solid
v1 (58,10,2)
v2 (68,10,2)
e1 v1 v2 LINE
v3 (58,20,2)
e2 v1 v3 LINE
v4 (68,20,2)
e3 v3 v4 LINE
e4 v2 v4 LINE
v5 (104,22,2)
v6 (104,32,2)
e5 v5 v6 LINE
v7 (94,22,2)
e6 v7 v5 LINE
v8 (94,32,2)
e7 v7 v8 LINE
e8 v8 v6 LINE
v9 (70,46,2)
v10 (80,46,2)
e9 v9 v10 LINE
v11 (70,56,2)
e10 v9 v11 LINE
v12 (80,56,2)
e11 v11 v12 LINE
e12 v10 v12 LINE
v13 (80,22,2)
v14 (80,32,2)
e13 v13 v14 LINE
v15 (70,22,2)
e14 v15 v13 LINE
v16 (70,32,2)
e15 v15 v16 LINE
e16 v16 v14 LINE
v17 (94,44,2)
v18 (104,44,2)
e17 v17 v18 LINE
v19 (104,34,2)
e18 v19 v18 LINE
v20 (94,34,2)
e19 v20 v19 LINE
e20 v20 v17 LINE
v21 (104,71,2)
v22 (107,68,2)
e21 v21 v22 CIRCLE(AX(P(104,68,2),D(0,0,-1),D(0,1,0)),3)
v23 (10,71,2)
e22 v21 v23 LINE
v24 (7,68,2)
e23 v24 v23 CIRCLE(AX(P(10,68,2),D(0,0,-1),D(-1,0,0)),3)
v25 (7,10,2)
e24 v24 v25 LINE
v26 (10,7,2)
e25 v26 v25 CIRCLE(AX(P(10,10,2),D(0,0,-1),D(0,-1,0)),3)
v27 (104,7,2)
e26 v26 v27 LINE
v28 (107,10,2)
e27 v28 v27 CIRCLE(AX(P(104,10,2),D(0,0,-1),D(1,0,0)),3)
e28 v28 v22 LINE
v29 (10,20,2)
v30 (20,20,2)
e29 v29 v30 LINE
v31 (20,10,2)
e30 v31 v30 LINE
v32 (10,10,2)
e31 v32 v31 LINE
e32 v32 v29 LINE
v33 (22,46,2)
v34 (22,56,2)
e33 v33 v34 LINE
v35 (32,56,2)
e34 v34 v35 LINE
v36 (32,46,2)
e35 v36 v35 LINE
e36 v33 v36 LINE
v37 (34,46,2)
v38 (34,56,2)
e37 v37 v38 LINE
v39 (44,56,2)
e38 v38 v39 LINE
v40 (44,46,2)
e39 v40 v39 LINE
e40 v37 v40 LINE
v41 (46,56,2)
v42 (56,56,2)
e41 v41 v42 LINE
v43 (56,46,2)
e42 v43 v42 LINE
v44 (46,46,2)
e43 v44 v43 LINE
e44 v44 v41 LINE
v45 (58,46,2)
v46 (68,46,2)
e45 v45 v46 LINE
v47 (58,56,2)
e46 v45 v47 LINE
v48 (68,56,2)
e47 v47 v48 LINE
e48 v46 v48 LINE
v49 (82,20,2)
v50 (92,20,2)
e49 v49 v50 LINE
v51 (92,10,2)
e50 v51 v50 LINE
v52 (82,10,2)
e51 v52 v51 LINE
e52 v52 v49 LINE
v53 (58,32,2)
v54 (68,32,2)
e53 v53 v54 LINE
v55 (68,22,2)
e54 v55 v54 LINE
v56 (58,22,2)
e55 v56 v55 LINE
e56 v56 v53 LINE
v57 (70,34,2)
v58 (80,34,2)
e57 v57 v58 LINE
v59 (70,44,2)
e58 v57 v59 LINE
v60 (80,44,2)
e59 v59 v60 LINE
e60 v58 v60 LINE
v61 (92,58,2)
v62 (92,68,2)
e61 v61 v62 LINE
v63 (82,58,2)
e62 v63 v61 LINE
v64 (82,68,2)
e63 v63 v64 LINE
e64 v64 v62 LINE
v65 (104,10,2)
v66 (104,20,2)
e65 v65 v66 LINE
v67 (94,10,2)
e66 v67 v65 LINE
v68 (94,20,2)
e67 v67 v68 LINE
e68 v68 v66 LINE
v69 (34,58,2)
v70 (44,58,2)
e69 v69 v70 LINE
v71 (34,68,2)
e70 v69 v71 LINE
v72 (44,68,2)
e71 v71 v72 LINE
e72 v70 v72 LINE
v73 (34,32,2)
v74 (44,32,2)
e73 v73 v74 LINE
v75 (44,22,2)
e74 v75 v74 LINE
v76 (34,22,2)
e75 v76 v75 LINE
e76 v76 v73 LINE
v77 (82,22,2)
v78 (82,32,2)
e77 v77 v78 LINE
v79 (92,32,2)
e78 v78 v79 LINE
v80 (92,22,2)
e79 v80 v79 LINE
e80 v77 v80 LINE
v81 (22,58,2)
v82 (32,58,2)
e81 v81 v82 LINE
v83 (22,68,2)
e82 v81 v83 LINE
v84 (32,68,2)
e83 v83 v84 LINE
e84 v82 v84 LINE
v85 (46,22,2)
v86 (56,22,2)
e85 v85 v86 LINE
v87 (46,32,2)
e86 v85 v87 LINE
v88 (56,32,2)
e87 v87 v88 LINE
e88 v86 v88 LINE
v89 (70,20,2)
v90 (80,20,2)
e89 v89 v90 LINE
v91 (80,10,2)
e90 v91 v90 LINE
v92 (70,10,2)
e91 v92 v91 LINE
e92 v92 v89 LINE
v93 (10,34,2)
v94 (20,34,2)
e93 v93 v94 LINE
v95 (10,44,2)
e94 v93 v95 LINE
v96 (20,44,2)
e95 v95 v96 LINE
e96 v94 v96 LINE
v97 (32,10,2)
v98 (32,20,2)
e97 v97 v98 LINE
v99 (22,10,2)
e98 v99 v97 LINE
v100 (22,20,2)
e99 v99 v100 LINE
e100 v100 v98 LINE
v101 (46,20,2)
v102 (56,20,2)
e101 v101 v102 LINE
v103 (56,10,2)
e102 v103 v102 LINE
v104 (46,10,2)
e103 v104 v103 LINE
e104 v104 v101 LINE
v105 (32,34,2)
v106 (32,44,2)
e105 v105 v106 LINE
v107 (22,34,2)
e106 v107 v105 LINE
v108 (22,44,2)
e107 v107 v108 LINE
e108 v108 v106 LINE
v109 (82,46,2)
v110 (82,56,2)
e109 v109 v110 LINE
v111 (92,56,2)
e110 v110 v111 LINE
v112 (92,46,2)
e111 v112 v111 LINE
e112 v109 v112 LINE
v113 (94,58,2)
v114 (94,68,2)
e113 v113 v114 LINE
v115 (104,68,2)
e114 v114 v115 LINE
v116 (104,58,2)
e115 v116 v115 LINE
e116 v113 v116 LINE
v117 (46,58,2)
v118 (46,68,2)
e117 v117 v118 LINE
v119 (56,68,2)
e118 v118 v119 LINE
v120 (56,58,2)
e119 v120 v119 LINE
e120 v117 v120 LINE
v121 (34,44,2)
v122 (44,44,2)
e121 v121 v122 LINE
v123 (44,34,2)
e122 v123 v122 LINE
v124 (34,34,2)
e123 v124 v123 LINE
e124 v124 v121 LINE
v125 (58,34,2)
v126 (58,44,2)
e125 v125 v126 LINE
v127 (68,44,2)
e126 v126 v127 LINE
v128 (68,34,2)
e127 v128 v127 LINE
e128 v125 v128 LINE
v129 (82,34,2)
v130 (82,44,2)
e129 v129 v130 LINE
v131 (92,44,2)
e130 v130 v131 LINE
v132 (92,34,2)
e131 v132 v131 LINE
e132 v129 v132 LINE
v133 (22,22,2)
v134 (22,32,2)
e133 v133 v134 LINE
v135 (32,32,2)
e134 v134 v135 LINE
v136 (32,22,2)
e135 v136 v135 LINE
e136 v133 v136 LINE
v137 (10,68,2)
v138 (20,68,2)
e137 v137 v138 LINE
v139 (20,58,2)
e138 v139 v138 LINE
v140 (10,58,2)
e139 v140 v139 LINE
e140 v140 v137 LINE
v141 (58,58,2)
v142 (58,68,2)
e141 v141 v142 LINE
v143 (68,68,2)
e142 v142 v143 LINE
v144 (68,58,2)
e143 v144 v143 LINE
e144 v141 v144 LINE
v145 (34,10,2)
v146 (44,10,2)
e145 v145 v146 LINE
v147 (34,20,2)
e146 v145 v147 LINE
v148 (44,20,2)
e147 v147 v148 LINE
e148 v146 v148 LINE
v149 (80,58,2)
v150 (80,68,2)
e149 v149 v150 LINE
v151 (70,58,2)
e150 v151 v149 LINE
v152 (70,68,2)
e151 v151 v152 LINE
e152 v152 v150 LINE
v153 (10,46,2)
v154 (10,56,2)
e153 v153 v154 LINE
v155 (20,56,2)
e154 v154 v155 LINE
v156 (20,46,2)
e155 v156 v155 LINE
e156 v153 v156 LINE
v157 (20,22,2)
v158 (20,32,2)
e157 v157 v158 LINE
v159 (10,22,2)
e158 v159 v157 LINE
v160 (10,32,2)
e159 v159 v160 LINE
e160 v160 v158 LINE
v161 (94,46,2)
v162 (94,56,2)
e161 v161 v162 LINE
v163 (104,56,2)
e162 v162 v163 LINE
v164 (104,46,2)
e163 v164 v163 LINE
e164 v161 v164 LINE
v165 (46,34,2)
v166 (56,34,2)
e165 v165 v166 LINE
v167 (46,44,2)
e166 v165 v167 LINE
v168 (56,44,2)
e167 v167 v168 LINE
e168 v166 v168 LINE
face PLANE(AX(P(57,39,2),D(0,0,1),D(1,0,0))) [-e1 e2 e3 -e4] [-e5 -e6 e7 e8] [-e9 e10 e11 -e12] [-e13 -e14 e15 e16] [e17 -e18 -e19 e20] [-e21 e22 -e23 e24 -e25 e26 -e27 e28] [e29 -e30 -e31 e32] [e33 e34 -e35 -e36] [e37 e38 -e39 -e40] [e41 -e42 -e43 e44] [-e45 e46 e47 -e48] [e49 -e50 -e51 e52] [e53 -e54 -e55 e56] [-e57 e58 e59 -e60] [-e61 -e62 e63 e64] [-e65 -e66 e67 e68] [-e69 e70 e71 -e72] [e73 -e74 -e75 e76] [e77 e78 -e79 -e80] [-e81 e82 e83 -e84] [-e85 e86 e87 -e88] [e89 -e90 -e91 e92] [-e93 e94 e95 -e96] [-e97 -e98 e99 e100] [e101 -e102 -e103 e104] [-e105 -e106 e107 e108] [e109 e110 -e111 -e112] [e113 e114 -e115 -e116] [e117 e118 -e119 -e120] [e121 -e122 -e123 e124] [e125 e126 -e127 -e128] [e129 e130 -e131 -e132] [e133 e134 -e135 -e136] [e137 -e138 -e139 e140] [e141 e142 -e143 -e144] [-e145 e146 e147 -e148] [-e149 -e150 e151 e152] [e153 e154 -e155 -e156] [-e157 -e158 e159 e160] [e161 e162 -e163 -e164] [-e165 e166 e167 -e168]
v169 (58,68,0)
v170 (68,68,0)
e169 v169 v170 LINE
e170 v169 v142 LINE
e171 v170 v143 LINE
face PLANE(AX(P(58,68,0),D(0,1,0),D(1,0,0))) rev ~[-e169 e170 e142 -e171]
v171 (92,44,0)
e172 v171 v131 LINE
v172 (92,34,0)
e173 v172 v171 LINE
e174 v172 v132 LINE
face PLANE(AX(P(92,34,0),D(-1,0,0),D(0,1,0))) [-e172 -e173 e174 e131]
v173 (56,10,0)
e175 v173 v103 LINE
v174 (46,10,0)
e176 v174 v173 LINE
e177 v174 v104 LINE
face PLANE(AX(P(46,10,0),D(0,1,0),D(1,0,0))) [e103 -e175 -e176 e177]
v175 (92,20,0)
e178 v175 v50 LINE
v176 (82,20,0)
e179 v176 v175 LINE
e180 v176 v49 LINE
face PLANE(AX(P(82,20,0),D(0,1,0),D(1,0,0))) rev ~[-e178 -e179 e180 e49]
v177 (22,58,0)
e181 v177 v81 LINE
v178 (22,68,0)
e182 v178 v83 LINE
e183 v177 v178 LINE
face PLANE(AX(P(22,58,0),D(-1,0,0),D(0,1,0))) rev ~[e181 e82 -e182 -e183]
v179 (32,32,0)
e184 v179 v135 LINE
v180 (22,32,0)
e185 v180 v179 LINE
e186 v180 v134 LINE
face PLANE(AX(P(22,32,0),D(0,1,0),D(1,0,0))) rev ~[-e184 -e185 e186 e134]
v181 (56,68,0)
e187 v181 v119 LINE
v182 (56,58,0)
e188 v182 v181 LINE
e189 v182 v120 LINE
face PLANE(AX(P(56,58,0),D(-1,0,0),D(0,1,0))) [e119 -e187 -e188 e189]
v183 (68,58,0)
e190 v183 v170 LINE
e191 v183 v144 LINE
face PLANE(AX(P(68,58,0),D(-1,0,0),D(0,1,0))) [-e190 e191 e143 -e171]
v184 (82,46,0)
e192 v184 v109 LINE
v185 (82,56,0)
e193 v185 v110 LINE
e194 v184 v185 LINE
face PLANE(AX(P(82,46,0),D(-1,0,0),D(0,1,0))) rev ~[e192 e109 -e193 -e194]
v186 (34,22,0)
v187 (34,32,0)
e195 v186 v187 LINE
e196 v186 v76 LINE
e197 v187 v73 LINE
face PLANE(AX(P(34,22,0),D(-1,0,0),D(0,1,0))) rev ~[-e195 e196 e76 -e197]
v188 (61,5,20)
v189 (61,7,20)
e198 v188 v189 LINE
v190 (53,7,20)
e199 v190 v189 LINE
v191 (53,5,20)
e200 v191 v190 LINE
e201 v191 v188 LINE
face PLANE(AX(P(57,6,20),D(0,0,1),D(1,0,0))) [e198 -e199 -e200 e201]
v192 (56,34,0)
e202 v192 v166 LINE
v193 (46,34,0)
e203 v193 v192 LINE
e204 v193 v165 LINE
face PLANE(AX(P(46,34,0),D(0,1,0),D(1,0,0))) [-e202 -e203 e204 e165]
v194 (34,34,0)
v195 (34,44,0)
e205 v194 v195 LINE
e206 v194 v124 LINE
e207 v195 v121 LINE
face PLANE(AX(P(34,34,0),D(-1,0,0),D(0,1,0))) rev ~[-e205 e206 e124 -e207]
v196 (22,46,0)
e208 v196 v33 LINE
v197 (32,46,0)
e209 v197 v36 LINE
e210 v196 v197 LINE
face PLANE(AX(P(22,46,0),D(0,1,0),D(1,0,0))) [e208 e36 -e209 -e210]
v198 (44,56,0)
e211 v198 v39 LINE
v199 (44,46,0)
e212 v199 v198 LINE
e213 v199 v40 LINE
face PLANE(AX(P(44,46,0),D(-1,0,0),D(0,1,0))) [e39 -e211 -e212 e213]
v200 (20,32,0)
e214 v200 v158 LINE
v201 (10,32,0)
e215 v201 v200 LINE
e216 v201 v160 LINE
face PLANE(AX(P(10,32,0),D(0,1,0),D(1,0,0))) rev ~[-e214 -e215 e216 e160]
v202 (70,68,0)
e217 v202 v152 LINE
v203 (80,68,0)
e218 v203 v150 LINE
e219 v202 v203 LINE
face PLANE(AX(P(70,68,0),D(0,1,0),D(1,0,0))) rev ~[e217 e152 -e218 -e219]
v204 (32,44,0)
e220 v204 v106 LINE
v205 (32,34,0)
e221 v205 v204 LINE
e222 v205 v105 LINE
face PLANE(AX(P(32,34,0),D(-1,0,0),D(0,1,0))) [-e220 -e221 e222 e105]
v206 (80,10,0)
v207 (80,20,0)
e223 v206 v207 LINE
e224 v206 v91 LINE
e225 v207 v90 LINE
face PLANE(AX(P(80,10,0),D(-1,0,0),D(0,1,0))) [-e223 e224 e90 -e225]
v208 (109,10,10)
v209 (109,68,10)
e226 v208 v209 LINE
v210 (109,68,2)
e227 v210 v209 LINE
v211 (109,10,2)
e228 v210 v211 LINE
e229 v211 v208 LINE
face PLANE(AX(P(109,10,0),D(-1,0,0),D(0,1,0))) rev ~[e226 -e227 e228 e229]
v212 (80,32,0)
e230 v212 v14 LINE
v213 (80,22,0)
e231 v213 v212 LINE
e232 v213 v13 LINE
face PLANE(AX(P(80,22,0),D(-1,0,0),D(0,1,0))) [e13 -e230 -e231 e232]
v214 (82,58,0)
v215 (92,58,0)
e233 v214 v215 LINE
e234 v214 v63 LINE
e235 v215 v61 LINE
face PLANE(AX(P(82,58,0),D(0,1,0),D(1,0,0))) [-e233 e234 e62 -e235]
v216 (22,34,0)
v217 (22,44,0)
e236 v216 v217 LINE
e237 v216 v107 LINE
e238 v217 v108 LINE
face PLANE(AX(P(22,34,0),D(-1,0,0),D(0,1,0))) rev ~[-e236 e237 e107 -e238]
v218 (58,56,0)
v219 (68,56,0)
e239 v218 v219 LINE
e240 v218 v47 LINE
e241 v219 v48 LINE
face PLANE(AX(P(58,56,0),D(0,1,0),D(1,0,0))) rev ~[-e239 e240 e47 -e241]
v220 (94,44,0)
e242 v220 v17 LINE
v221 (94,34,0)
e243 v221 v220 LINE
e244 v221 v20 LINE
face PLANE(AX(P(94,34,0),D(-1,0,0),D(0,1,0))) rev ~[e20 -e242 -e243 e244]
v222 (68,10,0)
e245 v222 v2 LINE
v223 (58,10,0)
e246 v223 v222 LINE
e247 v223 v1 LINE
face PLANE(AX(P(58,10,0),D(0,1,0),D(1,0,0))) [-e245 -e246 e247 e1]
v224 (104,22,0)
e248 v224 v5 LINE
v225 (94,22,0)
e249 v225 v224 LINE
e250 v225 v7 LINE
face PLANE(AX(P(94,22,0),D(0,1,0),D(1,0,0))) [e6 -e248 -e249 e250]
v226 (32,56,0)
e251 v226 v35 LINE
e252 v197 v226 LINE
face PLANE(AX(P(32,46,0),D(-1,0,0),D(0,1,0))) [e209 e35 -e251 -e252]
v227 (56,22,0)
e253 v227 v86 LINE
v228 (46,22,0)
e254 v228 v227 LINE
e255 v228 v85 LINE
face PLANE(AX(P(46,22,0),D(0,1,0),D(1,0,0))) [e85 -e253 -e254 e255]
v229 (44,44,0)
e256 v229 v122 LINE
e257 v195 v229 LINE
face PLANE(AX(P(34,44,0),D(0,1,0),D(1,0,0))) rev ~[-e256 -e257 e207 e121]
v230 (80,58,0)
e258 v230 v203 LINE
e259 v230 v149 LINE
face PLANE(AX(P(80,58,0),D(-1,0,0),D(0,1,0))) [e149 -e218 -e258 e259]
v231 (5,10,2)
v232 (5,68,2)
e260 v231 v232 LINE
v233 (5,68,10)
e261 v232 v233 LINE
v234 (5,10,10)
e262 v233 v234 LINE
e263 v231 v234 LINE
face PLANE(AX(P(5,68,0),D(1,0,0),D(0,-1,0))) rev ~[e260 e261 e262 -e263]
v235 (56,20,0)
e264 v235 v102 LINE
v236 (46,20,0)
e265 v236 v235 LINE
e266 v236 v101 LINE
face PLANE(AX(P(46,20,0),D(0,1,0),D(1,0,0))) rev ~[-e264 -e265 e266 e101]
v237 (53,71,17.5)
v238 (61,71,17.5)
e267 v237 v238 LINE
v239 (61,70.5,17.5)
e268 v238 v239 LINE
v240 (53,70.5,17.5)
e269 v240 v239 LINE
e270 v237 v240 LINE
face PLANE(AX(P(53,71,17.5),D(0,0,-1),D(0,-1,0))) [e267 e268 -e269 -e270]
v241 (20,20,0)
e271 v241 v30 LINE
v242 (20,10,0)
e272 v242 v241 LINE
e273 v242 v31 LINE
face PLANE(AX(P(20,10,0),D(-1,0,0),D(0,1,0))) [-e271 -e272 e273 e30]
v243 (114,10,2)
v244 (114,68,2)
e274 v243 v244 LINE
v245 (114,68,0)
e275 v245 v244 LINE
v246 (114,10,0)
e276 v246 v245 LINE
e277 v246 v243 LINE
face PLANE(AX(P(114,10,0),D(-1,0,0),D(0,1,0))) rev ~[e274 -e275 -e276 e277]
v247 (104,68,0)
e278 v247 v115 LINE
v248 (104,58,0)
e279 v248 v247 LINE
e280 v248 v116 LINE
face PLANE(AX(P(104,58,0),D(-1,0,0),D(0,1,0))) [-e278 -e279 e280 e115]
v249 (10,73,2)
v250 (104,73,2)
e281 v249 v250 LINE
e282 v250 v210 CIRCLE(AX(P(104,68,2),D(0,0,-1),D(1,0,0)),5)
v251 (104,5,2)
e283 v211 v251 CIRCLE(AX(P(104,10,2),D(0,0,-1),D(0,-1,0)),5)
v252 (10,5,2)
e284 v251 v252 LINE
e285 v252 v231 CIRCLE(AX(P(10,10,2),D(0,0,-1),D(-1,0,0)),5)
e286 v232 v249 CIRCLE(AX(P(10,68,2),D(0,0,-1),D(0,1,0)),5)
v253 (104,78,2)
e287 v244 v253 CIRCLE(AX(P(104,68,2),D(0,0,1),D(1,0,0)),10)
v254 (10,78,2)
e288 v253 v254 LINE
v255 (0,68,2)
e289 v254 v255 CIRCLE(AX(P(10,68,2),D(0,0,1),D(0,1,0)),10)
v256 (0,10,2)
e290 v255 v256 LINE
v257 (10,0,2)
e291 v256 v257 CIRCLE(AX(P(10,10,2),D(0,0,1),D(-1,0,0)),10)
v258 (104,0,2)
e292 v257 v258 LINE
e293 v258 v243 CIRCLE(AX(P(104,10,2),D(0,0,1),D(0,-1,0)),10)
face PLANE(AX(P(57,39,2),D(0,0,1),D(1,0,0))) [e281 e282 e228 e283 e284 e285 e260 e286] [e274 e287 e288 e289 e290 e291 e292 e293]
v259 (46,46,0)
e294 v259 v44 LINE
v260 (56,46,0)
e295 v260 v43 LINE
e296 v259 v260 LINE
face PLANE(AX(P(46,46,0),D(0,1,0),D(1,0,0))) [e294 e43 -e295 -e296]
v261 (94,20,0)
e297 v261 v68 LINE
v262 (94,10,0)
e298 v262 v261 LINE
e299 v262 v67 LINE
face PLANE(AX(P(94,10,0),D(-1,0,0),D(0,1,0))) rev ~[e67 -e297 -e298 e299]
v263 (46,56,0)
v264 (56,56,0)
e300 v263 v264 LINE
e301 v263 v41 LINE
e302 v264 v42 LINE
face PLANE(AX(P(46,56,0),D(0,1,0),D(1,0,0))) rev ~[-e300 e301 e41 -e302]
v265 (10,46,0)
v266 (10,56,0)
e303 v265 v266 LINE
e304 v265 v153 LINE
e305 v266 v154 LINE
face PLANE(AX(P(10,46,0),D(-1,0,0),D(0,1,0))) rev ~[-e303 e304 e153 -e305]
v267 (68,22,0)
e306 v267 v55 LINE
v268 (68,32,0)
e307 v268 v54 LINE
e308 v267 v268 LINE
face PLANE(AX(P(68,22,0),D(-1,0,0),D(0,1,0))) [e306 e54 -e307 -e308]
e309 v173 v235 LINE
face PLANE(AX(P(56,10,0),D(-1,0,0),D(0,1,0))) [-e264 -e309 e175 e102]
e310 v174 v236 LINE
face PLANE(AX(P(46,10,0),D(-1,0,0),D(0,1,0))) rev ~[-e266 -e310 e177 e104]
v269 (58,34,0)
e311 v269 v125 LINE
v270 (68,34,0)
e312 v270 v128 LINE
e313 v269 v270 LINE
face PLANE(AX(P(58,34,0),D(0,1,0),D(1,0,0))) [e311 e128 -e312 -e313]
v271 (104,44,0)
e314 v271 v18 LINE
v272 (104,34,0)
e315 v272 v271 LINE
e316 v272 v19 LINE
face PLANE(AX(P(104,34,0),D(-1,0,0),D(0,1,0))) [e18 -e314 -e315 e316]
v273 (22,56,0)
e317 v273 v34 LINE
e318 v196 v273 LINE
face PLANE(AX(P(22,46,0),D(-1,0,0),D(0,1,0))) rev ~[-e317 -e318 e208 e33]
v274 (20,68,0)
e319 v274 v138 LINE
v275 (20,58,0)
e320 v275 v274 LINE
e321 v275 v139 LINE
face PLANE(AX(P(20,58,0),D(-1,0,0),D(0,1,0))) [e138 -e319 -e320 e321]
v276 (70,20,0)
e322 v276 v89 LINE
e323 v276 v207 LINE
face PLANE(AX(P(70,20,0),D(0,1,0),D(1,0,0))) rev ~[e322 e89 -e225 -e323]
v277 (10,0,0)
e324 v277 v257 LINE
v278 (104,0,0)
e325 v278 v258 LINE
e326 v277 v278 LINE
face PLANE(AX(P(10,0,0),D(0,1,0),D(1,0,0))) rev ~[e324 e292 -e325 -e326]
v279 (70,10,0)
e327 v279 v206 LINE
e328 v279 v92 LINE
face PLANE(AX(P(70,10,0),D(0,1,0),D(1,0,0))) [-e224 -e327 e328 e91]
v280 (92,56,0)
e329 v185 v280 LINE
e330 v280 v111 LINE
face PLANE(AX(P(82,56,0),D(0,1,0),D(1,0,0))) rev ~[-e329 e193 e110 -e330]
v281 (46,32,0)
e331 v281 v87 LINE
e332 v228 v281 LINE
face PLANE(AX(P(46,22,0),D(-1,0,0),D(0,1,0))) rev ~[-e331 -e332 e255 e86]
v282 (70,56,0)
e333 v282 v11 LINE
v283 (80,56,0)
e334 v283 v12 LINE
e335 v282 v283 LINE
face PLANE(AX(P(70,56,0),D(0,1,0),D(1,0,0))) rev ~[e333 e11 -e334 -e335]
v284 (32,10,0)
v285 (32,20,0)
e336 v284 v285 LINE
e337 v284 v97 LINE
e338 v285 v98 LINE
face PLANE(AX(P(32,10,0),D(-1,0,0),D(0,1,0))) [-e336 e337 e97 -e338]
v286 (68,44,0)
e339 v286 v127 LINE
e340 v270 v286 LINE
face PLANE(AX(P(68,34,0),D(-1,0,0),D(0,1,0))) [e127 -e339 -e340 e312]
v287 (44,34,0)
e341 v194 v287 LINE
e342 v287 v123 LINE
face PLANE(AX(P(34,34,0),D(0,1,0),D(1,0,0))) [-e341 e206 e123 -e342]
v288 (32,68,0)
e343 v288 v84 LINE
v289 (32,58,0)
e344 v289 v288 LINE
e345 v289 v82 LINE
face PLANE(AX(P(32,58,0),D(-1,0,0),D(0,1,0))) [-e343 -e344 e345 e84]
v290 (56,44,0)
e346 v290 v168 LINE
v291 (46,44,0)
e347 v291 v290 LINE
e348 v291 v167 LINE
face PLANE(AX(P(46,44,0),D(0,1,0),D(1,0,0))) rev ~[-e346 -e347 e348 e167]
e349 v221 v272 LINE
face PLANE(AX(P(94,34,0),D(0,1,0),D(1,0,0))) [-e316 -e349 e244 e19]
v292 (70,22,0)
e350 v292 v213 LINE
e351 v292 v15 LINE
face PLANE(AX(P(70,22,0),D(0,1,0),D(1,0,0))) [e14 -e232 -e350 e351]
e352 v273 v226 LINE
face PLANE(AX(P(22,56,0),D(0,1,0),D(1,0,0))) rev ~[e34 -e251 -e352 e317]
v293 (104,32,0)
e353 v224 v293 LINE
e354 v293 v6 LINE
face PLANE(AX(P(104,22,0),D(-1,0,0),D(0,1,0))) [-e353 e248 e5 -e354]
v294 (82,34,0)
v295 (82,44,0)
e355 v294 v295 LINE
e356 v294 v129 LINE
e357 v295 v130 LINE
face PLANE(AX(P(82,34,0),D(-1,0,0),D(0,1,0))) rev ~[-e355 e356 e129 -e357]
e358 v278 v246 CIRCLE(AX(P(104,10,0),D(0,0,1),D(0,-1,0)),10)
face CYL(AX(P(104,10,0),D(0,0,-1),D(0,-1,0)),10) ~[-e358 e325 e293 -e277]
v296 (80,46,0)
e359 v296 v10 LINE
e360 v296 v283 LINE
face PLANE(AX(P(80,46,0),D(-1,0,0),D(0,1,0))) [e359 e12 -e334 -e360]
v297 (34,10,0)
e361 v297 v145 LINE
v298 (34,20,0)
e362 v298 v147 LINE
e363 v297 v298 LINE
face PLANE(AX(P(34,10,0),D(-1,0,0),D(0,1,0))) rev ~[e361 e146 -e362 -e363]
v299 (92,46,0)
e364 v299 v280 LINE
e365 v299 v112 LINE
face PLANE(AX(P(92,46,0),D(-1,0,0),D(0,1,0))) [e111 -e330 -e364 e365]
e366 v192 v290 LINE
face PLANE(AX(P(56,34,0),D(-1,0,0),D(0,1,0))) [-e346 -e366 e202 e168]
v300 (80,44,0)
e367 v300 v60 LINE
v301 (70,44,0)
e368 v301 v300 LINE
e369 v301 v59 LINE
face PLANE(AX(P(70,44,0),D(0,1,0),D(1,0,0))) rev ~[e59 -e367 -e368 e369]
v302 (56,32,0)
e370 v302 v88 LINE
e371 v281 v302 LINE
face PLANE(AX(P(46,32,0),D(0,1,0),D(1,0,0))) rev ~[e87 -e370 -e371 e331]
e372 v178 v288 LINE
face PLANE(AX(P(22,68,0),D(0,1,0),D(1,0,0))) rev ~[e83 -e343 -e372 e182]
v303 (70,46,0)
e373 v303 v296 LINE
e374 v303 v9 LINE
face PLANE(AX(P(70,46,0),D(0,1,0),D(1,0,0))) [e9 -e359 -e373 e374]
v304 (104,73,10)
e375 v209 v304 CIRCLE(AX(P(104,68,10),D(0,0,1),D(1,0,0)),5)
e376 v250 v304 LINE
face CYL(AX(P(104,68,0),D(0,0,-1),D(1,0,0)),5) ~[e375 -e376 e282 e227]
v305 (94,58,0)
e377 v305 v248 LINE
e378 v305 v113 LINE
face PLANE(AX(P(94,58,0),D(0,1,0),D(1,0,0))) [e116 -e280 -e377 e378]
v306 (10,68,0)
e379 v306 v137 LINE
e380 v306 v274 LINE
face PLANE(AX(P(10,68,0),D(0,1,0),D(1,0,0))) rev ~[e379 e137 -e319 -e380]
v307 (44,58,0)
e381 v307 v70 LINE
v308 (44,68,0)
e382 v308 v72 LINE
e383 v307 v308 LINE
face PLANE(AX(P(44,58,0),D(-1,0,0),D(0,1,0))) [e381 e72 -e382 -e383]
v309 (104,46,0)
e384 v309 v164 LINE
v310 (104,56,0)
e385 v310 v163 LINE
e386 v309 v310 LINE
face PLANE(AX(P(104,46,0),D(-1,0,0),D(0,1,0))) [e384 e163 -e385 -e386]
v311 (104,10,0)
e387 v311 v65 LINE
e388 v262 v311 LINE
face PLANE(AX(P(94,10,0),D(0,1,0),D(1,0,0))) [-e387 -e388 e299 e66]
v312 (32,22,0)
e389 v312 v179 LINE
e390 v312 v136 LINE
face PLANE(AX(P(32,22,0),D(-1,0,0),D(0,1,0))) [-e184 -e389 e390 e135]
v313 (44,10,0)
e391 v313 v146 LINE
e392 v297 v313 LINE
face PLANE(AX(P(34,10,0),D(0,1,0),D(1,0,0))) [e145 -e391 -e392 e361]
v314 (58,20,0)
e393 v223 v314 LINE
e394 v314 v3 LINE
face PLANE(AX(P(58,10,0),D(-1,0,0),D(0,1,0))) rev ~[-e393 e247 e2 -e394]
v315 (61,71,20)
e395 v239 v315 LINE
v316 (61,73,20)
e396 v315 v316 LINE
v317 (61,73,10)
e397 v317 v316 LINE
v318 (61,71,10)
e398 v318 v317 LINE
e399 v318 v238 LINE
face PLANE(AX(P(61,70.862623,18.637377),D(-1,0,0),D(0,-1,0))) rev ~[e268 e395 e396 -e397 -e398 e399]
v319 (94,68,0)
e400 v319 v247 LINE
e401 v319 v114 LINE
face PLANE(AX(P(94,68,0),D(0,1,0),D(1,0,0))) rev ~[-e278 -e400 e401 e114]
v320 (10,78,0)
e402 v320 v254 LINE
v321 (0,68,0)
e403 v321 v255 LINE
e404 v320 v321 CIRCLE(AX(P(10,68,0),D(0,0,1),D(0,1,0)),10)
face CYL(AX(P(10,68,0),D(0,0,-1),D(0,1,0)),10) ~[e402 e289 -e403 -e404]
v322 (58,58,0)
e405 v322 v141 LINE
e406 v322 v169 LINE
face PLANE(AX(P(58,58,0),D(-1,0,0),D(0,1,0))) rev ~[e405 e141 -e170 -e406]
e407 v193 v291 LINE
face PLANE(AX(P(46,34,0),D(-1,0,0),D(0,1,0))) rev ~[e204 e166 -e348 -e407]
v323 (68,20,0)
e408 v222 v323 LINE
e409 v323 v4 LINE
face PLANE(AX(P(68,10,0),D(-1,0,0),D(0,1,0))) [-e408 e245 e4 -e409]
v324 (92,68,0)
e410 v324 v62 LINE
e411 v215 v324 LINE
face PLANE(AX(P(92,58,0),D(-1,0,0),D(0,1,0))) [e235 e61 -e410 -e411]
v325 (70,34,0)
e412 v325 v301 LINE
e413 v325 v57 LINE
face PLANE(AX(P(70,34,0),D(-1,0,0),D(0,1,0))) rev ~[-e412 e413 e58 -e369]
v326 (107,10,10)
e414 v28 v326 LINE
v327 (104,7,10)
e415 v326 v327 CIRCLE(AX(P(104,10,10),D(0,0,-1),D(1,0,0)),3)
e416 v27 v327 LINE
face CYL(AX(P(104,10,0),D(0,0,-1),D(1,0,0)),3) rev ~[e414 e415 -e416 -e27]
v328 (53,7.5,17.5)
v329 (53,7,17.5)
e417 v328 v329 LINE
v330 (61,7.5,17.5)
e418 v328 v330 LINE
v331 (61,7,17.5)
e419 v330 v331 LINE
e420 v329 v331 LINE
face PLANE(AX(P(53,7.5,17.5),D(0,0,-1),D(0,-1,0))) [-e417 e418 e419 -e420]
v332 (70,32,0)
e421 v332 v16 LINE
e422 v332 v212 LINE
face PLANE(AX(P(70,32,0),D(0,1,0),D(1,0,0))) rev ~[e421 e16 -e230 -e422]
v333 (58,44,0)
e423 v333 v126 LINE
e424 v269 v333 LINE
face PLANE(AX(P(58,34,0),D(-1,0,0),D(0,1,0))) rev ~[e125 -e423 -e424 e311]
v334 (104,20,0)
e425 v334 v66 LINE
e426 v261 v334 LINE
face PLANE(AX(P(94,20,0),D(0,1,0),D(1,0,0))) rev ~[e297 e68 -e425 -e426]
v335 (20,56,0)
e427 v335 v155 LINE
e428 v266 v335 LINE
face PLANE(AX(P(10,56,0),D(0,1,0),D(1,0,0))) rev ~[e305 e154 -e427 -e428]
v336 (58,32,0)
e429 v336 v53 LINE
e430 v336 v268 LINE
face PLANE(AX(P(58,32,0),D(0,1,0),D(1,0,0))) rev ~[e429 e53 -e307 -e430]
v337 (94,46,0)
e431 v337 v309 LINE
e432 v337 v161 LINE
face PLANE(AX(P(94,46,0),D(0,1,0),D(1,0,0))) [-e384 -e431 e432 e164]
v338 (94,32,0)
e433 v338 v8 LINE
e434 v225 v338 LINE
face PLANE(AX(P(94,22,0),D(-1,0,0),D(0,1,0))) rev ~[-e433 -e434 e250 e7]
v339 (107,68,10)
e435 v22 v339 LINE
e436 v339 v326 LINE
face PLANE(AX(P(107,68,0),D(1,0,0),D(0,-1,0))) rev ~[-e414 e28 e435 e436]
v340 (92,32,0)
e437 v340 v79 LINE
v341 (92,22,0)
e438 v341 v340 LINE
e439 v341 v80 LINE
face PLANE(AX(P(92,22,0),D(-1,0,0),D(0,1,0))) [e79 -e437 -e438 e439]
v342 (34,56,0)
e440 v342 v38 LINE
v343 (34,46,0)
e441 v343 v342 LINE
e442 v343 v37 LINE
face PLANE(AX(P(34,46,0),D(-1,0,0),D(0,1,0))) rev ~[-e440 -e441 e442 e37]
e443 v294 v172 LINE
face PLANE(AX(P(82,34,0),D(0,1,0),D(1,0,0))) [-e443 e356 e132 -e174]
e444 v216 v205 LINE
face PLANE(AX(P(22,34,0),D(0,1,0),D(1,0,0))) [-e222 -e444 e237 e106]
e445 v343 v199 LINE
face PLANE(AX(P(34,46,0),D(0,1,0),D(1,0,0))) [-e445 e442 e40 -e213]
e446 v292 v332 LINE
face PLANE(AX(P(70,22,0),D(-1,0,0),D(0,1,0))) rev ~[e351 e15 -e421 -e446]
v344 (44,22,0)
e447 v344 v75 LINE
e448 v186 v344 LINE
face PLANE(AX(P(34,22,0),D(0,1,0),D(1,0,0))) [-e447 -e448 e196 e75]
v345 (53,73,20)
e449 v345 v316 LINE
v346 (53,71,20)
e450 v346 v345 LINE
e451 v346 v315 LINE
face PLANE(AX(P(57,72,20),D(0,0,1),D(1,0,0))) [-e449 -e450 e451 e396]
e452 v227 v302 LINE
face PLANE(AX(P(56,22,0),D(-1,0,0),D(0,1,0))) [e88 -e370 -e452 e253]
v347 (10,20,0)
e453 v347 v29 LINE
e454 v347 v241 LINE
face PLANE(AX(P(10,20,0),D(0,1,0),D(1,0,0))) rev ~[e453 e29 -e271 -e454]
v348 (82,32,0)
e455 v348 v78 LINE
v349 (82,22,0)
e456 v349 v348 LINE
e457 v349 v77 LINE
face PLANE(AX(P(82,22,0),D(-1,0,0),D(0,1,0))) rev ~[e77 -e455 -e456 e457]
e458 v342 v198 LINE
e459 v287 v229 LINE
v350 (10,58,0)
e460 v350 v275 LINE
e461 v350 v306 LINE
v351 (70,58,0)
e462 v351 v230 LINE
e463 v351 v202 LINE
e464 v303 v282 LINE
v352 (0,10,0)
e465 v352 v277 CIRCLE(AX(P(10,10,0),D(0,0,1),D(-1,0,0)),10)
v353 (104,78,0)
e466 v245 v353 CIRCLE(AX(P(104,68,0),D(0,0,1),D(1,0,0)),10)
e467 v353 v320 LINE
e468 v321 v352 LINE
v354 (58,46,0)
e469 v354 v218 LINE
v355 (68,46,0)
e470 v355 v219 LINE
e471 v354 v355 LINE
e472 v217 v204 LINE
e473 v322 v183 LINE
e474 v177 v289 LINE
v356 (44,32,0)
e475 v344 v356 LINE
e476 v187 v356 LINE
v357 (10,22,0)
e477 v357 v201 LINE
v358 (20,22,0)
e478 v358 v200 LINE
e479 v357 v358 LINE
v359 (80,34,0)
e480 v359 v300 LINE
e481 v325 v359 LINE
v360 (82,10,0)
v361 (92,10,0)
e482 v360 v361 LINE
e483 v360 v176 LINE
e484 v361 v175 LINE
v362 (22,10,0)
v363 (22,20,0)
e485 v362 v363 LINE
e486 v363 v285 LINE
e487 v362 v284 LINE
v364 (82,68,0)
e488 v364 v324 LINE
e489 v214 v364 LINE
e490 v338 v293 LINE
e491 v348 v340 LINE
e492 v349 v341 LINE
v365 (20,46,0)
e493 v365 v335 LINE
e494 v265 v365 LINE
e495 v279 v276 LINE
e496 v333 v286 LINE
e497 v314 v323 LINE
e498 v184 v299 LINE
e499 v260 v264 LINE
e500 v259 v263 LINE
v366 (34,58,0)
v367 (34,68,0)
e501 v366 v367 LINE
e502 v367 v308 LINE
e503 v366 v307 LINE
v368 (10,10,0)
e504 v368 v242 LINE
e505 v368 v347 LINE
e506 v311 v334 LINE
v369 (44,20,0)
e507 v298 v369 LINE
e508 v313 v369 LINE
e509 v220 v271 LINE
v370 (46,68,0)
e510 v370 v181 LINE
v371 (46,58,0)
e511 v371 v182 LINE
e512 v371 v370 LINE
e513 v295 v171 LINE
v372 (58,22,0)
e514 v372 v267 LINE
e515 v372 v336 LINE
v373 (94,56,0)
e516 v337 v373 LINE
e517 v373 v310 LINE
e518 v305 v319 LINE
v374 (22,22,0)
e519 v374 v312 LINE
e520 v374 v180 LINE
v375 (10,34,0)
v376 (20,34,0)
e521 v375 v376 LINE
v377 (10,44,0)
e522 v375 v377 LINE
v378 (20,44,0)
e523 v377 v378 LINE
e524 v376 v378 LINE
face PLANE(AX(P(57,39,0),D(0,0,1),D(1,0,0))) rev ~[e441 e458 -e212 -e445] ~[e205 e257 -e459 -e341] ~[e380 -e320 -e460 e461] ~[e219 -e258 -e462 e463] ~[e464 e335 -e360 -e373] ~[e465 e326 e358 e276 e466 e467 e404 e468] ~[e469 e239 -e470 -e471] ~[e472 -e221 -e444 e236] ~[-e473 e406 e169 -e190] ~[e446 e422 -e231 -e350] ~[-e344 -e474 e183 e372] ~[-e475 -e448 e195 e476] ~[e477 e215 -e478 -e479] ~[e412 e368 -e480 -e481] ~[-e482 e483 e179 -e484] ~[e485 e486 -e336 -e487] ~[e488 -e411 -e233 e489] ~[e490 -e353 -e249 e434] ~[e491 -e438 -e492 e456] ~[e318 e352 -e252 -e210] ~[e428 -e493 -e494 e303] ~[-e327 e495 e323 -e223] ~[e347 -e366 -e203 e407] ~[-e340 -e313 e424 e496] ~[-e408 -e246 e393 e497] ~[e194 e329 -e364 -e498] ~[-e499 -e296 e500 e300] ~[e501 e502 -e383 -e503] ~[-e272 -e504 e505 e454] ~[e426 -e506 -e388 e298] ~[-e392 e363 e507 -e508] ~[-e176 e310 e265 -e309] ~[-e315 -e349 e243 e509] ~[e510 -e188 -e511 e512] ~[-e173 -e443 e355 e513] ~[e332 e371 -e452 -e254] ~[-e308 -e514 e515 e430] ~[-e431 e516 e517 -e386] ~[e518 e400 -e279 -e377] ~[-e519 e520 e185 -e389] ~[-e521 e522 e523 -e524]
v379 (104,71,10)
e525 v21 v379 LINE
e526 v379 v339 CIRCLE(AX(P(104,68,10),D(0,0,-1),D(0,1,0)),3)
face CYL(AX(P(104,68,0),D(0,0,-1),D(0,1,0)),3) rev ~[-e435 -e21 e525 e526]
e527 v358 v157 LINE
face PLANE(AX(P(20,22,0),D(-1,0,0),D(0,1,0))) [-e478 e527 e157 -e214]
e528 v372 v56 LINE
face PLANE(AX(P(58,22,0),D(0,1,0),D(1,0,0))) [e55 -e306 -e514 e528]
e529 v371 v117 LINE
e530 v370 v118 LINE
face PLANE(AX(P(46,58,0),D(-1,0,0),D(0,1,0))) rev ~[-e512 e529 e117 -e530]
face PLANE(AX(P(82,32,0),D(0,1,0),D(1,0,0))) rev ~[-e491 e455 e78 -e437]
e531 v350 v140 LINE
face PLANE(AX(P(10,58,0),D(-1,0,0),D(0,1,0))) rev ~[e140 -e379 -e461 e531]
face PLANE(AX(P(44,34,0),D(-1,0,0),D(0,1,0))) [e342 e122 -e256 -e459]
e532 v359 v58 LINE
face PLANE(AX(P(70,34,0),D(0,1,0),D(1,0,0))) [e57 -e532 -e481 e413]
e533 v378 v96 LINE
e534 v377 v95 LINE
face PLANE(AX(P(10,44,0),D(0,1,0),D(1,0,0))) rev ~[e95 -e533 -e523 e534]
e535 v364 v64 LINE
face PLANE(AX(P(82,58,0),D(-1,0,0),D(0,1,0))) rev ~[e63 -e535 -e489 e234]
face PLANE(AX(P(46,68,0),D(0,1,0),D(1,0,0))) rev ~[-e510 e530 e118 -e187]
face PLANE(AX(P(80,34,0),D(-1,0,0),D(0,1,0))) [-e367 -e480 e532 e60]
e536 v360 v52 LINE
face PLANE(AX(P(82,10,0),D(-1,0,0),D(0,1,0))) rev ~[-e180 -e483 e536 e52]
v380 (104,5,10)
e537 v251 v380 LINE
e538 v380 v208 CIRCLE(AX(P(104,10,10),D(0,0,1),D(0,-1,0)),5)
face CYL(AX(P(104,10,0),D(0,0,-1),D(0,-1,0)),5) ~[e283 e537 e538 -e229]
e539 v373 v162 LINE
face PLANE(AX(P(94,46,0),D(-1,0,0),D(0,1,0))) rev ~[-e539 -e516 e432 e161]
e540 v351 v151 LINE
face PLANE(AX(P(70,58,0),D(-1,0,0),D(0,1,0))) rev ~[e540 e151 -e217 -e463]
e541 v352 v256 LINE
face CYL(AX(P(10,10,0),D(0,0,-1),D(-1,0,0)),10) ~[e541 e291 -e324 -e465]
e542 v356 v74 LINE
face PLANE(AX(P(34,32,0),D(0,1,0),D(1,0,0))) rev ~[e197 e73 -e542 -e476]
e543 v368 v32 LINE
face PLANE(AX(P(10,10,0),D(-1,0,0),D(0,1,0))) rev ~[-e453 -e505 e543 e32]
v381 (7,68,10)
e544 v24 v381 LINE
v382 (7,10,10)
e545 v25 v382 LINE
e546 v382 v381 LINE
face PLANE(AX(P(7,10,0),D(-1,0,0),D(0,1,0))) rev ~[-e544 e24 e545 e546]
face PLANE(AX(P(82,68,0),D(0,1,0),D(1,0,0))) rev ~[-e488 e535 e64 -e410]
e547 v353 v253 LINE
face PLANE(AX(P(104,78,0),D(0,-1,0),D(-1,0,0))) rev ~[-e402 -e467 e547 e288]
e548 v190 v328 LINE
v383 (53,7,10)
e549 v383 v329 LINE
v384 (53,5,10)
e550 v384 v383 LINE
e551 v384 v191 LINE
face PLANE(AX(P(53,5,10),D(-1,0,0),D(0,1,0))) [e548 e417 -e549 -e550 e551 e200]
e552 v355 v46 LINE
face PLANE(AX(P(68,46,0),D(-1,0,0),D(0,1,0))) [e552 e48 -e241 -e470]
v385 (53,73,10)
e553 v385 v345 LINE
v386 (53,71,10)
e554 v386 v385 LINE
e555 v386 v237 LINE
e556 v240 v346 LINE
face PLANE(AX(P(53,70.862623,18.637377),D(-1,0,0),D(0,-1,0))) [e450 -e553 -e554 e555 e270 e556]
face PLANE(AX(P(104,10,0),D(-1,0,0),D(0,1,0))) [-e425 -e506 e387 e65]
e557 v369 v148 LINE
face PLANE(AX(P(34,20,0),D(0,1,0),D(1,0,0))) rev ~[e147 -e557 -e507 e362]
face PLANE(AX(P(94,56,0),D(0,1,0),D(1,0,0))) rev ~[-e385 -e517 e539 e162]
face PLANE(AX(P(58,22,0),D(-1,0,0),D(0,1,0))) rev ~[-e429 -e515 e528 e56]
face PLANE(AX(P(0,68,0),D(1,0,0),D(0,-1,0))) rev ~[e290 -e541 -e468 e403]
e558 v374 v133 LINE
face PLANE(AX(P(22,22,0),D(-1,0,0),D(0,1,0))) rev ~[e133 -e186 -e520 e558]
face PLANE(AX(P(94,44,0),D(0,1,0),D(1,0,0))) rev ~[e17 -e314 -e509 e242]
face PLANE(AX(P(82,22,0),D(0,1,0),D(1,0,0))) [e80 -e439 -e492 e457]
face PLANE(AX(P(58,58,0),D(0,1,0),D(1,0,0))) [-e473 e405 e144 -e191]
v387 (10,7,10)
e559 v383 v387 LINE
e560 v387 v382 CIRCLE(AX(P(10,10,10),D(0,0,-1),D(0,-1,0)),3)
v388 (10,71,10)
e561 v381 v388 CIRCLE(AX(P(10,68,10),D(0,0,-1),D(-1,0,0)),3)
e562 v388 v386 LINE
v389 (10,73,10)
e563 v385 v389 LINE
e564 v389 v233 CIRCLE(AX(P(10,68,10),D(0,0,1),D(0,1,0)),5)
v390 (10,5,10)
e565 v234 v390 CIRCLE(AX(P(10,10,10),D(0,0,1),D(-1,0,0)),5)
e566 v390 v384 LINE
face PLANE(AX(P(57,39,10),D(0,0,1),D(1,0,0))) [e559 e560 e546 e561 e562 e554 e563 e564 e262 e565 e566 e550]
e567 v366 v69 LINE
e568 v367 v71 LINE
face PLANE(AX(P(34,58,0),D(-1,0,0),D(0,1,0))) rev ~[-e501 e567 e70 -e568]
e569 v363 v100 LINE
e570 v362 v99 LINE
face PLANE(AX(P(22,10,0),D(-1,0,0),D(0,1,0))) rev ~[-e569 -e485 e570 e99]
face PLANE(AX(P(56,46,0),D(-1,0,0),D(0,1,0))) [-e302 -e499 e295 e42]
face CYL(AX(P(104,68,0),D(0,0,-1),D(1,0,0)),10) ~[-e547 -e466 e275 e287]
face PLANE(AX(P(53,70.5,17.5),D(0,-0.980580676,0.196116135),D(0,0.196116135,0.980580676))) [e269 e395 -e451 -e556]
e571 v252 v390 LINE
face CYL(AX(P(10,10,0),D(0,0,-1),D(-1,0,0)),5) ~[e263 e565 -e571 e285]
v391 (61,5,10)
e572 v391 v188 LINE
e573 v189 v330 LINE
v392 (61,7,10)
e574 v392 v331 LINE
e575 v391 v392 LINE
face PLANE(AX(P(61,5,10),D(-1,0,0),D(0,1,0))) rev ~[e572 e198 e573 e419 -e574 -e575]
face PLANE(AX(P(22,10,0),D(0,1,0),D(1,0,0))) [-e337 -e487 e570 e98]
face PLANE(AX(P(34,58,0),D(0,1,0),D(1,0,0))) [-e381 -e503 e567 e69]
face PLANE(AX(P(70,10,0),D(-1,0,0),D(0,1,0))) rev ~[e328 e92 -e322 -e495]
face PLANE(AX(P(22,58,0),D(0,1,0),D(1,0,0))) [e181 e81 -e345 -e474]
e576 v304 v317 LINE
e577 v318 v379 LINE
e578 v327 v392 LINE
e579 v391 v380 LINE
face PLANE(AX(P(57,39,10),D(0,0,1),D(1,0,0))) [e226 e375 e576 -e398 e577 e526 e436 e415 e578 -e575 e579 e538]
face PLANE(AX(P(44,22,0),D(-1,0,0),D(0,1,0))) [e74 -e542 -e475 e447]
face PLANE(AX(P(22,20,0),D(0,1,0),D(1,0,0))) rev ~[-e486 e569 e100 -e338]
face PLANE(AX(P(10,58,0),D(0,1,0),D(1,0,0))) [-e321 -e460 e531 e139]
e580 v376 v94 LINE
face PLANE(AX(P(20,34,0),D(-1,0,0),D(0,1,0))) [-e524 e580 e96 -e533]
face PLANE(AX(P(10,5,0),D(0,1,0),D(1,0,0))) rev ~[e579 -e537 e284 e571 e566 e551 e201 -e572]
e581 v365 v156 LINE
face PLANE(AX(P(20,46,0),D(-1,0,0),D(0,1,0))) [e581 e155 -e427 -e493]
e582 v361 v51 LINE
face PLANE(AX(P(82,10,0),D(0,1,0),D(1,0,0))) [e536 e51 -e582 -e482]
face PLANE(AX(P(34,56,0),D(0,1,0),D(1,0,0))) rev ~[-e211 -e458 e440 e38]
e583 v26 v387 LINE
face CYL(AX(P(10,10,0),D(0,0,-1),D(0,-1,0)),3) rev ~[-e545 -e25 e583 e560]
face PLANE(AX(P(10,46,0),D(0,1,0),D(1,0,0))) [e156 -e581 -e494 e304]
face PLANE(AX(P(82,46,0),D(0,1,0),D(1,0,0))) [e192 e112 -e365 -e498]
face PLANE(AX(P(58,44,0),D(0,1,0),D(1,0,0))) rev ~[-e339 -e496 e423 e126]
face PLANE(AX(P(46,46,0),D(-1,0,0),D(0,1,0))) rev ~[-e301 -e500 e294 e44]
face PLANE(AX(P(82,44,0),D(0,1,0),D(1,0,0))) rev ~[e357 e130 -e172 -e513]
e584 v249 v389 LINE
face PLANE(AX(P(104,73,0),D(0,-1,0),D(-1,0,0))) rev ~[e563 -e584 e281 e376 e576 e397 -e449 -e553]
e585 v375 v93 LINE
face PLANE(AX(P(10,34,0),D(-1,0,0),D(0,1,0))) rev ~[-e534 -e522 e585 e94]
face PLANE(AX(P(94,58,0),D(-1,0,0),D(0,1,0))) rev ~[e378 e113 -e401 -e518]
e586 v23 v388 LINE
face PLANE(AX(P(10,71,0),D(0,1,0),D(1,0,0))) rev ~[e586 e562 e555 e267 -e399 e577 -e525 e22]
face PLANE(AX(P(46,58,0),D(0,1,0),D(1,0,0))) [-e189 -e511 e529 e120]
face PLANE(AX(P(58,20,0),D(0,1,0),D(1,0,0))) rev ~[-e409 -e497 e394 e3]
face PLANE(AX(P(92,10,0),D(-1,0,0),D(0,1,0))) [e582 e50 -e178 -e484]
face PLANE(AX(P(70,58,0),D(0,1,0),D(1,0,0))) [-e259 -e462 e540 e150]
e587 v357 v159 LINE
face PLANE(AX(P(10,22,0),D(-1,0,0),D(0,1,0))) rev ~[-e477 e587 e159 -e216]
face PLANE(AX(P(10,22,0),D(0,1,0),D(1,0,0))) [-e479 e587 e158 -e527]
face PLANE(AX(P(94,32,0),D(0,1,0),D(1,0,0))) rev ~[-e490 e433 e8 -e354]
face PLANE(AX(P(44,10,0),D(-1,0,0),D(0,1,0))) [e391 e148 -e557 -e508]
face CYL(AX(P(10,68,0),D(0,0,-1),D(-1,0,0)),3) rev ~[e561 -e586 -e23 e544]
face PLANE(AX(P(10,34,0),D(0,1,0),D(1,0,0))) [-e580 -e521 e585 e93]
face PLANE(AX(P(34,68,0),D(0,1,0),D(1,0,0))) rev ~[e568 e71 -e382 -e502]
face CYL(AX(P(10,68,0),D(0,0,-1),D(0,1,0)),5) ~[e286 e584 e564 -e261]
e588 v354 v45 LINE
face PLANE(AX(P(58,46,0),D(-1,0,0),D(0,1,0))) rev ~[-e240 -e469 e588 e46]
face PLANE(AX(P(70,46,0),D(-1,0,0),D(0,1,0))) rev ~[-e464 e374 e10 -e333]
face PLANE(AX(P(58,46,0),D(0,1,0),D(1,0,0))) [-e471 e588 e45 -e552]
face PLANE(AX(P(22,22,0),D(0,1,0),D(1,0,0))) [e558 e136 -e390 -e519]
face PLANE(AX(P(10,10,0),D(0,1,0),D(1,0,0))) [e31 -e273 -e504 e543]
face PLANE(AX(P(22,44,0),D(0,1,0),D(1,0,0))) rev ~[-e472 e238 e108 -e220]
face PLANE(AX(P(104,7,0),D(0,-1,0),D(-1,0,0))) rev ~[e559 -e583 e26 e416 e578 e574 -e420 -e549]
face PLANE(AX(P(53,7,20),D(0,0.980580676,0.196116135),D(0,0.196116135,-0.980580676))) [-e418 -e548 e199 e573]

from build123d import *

# Parameters (mm, degrees)
F0_W     = 10
F0_H     = 10
F1_DEPTH = 2
F2_DEPTH = 10
F3_W     = 8
F3_H     = 2
F4_DEPTH = 10
F6_DEPTH = 8


with BuildPart() as f1:
    # F0 (on Top) → F1 (new body)
    with BuildSketch(Plane.XY):
        with BuildLine():
            ThreePointArc((0, 10), (2.9289321881, 2.9289321881), (10, 0))
            Line((10, 0), (104, 0))
            ThreePointArc((104, 0), (111.0710678119, 2.9289321881), (114, 10))
            Line((114, 10), (114, 68))
            ThreePointArc((114, 68), (111.0710678119, 75.0710678119), (104, 78))
            Line((104, 78), (10, 78))
            ThreePointArc((10, 78), (2.9289321881, 75.0710678119), (0, 68))
            Line((0, 68), (0, 10))
        make_face()
        with BuildLine():
            ThreePointArc((10, 5), (6.4644660941, 6.4644660941), (5, 10))
            Line((5, 10), (5, 68))
            ThreePointArc((5, 68), (6.4644660941, 71.5355339059), (10, 73))
            Line((10, 73), (104, 73))
            ThreePointArc((104, 73), (107.5355339059, 71.5355339059), (109, 68))
            Line((109, 68), (109, 10))
            ThreePointArc((109, 10), (107.5355339059, 6.4644660941), (104, 5))
            Line((104, 5), (10, 5))
        make_face(mode=Mode.SUBTRACT)
        with BuildLine():
            Line((5, 68), (5, 10))
            ThreePointArc((5, 10), (6.4644660941, 6.4644660941), (10, 5))
            Line((10, 5), (104, 5))
            ThreePointArc((104, 5), (107.5355339059, 6.4644660941), (109, 10))
            Line((109, 10), (109, 68))
            ThreePointArc((109, 68), (107.5355339059, 71.5355339059), (104, 73))
            Line((104, 73), (10, 73))
            ThreePointArc((10, 73), (6.4644660941, 71.5355339059), (5, 68))
        make_face()
        with BuildLine():
            ThreePointArc((10, 7), (7.8786796564, 7.8786796564), (7, 10))
            Line((7, 10), (7, 68))
            ThreePointArc((7, 68), (7.8786796564, 70.1213203436), (10, 71))
            Line((10, 71), (104, 71))
            ThreePointArc((104, 71), (106.1213203436, 70.1213203436), (107, 68))
            Line((107, 68), (107, 10))
            ThreePointArc((107, 10), (106.1213203436, 7.8786796564), (104, 7))
            Line((104, 7), (10, 7))
        make_face(mode=Mode.SUBTRACT)
        with BuildLine():
            Line((7, 68), (7, 10))
            ThreePointArc((7, 10), (7.8786796564, 7.8786796564), (10, 7))
            Line((10, 7), (104, 7))
            ThreePointArc((104, 7), (106.1213203436, 7.8786796564), (107, 10))
            Line((107, 10), (107, 68))
            ThreePointArc((107, 68), (106.1213203436, 70.1213203436), (104, 71))
            Line((104, 71), (10, 71))
            ThreePointArc((10, 71), (7.8786796564, 70.1213203436), (7, 68))
        make_face()
        with Locations((15, 15)):
            Rectangle(F0_W, F0_H, mode=Mode.SUBTRACT)
        with Locations((27, 15)):
            Rectangle(F0_W, F0_H, mode=Mode.SUBTRACT)
        with Locations((39, 15)):
            Rectangle(F0_W, F0_H, mode=Mode.SUBTRACT)
        with Locations((51, 15)):
            Rectangle(F0_W, F0_H, mode=Mode.SUBTRACT)
        with Locations((15, 27)):
            Rectangle(F0_W, F0_H, mode=Mode.SUBTRACT)
        with Locations((27, 27)):
            Rectangle(F0_W, F0_H, mode=Mode.SUBTRACT)
        with Locations((39, 27)):
            Rectangle(F0_W, F0_H, mode=Mode.SUBTRACT)
        with Locations((51, 27)):
            Rectangle(F0_W, F0_H, mode=Mode.SUBTRACT)
        with Locations((63, 15)):
            Rectangle(F0_W, F0_H, mode=Mode.SUBTRACT)
        with Locations((75, 15)):
            Rectangle(F0_W, F0_H, mode=Mode.SUBTRACT)
        with Locations((87, 15)):
            Rectangle(F0_W, F0_H, mode=Mode.SUBTRACT)
        with Locations((99, 15)):
            Rectangle(F0_W, F0_H, mode=Mode.SUBTRACT)
        with Locations((63, 27)):
            Rectangle(F0_W, F0_H, mode=Mode.SUBTRACT)
        with Locations((75, 27)):
            Rectangle(F0_W, F0_H, mode=Mode.SUBTRACT)
        with Locations((87, 27)):
            Rectangle(F0_W, F0_H, mode=Mode.SUBTRACT)
        with Locations((99, 27)):
            Rectangle(F0_W, F0_H, mode=Mode.SUBTRACT)
        with Locations((15, 39)):
            Rectangle(F0_W, F0_H, mode=Mode.SUBTRACT)
        with Locations((27, 39)):
            Rectangle(F0_W, F0_H, mode=Mode.SUBTRACT)
        with Locations((15, 51)):
            Rectangle(F0_W, F0_H, mode=Mode.SUBTRACT)
        with Locations((27, 51)):
            Rectangle(F0_W, F0_H, mode=Mode.SUBTRACT)
        with Locations((39, 39)):
            Rectangle(F0_W, F0_H, mode=Mode.SUBTRACT)
        with Locations((51, 39)):
            Rectangle(F0_W, F0_H, mode=Mode.SUBTRACT)
        with Locations((39, 51)):
            Rectangle(F0_W, F0_H, mode=Mode.SUBTRACT)
        with Locations((51, 51)):
            Rectangle(F0_W, F0_H, mode=Mode.SUBTRACT)
        with Locations((15, 63)):
            Rectangle(F0_W, F0_H, mode=Mode.SUBTRACT)
        with Locations((27, 63)):
            Rectangle(F0_W, F0_H, mode=Mode.SUBTRACT)
        with Locations((39, 63)):
            Rectangle(F0_W, F0_H, mode=Mode.SUBTRACT)
        with Locations((51, 63)):
            Rectangle(F0_W, F0_H, mode=Mode.SUBTRACT)
        with Locations((63, 39)):
            Rectangle(F0_W, F0_H, mode=Mode.SUBTRACT)
        with Locations((75, 39)):
            Rectangle(F0_W, F0_H, mode=Mode.SUBTRACT)
        with Locations((63, 51)):
            Rectangle(F0_W, F0_H, mode=Mode.SUBTRACT)
        with Locations((75, 51)):
            Rectangle(F0_W, F0_H, mode=Mode.SUBTRACT)
        with Locations((87, 39)):
            Rectangle(F0_W, F0_H, mode=Mode.SUBTRACT)
        with Locations((99, 39)):
            Rectangle(F0_W, F0_H, mode=Mode.SUBTRACT)
        with Locations((87, 51)):
            Rectangle(F0_W, F0_H, mode=Mode.SUBTRACT)
        with Locations((99, 51)):
            Rectangle(F0_W, F0_H, mode=Mode.SUBTRACT)
        with Locations((63, 63)):
            Rectangle(F0_W, F0_H, mode=Mode.SUBTRACT)
        with Locations((75, 63)):
            Rectangle(F0_W, F0_H, mode=Mode.SUBTRACT)
        with Locations((87, 63)):
            Rectangle(F0_W, F0_H, mode=Mode.SUBTRACT)
        with Locations((99, 63)):
            Rectangle(F0_W, F0_H, mode=Mode.SUBTRACT)
    extrude(amount=F1_DEPTH)

    # F0 (on Top) → F2 (join)
    with BuildSketch(Plane.XY):
        with BuildLine():
            Line((5, 68), (5, 10))
            ThreePointArc((5, 10), (6.4644660941, 6.4644660941), (10, 5))
            Line((10, 5), (104, 5))
            ThreePointArc((104, 5), (107.5355339059, 6.4644660941), (109, 10))
            Line((109, 10), (109, 68))
            ThreePointArc((109, 68), (107.5355339059, 71.5355339059), (104, 73))
            Line((104, 73), (10, 73))
            ThreePointArc((10, 73), (6.4644660941, 71.5355339059), (5, 68))
        make_face()
        with BuildLine():
            ThreePointArc((10, 7), (7.8786796564, 7.8786796564), (7, 10))
            Line((7, 10), (7, 68))
            ThreePointArc((7, 68), (7.8786796564, 70.1213203436), (10, 71))
            Line((10, 71), (104, 71))
            ThreePointArc((104, 71), (106.1213203436, 70.1213203436), (107, 68))
            Line((107, 68), (107, 10))
            ThreePointArc((107, 10), (106.1213203436, 7.8786796564), (104, 7))
            Line((104, 7), (10, 7))
        make_face(mode=Mode.SUBTRACT)
    extrude(amount=F2_DEPTH)

    # F3 (on face) → F4 (join)
    with BuildSketch(Plane.XY.offset(10)):
        with Locations((57, 72)):
            Rectangle(F3_W, F3_H)
        with Locations((57, 6)):
            Rectangle(F3_W, F3_H)
    extrude(amount=F4_DEPTH)

    # F5 (on face) → F6 (join, through all)
    with BuildSketch(Plane(origin=(53, 0, 0), x_dir=(0, -1, 0), z_dir=(-1, 0, 0))):
        Polygon((-70.5, 17.5), (-71, 20), (-71, 17.5), align=None)
        Polygon((-7, 20), (-7.5, 17.5), (-7, 17.5), align=None)
    extrude(amount=-F6_DEPTH)


solid = f1.part
